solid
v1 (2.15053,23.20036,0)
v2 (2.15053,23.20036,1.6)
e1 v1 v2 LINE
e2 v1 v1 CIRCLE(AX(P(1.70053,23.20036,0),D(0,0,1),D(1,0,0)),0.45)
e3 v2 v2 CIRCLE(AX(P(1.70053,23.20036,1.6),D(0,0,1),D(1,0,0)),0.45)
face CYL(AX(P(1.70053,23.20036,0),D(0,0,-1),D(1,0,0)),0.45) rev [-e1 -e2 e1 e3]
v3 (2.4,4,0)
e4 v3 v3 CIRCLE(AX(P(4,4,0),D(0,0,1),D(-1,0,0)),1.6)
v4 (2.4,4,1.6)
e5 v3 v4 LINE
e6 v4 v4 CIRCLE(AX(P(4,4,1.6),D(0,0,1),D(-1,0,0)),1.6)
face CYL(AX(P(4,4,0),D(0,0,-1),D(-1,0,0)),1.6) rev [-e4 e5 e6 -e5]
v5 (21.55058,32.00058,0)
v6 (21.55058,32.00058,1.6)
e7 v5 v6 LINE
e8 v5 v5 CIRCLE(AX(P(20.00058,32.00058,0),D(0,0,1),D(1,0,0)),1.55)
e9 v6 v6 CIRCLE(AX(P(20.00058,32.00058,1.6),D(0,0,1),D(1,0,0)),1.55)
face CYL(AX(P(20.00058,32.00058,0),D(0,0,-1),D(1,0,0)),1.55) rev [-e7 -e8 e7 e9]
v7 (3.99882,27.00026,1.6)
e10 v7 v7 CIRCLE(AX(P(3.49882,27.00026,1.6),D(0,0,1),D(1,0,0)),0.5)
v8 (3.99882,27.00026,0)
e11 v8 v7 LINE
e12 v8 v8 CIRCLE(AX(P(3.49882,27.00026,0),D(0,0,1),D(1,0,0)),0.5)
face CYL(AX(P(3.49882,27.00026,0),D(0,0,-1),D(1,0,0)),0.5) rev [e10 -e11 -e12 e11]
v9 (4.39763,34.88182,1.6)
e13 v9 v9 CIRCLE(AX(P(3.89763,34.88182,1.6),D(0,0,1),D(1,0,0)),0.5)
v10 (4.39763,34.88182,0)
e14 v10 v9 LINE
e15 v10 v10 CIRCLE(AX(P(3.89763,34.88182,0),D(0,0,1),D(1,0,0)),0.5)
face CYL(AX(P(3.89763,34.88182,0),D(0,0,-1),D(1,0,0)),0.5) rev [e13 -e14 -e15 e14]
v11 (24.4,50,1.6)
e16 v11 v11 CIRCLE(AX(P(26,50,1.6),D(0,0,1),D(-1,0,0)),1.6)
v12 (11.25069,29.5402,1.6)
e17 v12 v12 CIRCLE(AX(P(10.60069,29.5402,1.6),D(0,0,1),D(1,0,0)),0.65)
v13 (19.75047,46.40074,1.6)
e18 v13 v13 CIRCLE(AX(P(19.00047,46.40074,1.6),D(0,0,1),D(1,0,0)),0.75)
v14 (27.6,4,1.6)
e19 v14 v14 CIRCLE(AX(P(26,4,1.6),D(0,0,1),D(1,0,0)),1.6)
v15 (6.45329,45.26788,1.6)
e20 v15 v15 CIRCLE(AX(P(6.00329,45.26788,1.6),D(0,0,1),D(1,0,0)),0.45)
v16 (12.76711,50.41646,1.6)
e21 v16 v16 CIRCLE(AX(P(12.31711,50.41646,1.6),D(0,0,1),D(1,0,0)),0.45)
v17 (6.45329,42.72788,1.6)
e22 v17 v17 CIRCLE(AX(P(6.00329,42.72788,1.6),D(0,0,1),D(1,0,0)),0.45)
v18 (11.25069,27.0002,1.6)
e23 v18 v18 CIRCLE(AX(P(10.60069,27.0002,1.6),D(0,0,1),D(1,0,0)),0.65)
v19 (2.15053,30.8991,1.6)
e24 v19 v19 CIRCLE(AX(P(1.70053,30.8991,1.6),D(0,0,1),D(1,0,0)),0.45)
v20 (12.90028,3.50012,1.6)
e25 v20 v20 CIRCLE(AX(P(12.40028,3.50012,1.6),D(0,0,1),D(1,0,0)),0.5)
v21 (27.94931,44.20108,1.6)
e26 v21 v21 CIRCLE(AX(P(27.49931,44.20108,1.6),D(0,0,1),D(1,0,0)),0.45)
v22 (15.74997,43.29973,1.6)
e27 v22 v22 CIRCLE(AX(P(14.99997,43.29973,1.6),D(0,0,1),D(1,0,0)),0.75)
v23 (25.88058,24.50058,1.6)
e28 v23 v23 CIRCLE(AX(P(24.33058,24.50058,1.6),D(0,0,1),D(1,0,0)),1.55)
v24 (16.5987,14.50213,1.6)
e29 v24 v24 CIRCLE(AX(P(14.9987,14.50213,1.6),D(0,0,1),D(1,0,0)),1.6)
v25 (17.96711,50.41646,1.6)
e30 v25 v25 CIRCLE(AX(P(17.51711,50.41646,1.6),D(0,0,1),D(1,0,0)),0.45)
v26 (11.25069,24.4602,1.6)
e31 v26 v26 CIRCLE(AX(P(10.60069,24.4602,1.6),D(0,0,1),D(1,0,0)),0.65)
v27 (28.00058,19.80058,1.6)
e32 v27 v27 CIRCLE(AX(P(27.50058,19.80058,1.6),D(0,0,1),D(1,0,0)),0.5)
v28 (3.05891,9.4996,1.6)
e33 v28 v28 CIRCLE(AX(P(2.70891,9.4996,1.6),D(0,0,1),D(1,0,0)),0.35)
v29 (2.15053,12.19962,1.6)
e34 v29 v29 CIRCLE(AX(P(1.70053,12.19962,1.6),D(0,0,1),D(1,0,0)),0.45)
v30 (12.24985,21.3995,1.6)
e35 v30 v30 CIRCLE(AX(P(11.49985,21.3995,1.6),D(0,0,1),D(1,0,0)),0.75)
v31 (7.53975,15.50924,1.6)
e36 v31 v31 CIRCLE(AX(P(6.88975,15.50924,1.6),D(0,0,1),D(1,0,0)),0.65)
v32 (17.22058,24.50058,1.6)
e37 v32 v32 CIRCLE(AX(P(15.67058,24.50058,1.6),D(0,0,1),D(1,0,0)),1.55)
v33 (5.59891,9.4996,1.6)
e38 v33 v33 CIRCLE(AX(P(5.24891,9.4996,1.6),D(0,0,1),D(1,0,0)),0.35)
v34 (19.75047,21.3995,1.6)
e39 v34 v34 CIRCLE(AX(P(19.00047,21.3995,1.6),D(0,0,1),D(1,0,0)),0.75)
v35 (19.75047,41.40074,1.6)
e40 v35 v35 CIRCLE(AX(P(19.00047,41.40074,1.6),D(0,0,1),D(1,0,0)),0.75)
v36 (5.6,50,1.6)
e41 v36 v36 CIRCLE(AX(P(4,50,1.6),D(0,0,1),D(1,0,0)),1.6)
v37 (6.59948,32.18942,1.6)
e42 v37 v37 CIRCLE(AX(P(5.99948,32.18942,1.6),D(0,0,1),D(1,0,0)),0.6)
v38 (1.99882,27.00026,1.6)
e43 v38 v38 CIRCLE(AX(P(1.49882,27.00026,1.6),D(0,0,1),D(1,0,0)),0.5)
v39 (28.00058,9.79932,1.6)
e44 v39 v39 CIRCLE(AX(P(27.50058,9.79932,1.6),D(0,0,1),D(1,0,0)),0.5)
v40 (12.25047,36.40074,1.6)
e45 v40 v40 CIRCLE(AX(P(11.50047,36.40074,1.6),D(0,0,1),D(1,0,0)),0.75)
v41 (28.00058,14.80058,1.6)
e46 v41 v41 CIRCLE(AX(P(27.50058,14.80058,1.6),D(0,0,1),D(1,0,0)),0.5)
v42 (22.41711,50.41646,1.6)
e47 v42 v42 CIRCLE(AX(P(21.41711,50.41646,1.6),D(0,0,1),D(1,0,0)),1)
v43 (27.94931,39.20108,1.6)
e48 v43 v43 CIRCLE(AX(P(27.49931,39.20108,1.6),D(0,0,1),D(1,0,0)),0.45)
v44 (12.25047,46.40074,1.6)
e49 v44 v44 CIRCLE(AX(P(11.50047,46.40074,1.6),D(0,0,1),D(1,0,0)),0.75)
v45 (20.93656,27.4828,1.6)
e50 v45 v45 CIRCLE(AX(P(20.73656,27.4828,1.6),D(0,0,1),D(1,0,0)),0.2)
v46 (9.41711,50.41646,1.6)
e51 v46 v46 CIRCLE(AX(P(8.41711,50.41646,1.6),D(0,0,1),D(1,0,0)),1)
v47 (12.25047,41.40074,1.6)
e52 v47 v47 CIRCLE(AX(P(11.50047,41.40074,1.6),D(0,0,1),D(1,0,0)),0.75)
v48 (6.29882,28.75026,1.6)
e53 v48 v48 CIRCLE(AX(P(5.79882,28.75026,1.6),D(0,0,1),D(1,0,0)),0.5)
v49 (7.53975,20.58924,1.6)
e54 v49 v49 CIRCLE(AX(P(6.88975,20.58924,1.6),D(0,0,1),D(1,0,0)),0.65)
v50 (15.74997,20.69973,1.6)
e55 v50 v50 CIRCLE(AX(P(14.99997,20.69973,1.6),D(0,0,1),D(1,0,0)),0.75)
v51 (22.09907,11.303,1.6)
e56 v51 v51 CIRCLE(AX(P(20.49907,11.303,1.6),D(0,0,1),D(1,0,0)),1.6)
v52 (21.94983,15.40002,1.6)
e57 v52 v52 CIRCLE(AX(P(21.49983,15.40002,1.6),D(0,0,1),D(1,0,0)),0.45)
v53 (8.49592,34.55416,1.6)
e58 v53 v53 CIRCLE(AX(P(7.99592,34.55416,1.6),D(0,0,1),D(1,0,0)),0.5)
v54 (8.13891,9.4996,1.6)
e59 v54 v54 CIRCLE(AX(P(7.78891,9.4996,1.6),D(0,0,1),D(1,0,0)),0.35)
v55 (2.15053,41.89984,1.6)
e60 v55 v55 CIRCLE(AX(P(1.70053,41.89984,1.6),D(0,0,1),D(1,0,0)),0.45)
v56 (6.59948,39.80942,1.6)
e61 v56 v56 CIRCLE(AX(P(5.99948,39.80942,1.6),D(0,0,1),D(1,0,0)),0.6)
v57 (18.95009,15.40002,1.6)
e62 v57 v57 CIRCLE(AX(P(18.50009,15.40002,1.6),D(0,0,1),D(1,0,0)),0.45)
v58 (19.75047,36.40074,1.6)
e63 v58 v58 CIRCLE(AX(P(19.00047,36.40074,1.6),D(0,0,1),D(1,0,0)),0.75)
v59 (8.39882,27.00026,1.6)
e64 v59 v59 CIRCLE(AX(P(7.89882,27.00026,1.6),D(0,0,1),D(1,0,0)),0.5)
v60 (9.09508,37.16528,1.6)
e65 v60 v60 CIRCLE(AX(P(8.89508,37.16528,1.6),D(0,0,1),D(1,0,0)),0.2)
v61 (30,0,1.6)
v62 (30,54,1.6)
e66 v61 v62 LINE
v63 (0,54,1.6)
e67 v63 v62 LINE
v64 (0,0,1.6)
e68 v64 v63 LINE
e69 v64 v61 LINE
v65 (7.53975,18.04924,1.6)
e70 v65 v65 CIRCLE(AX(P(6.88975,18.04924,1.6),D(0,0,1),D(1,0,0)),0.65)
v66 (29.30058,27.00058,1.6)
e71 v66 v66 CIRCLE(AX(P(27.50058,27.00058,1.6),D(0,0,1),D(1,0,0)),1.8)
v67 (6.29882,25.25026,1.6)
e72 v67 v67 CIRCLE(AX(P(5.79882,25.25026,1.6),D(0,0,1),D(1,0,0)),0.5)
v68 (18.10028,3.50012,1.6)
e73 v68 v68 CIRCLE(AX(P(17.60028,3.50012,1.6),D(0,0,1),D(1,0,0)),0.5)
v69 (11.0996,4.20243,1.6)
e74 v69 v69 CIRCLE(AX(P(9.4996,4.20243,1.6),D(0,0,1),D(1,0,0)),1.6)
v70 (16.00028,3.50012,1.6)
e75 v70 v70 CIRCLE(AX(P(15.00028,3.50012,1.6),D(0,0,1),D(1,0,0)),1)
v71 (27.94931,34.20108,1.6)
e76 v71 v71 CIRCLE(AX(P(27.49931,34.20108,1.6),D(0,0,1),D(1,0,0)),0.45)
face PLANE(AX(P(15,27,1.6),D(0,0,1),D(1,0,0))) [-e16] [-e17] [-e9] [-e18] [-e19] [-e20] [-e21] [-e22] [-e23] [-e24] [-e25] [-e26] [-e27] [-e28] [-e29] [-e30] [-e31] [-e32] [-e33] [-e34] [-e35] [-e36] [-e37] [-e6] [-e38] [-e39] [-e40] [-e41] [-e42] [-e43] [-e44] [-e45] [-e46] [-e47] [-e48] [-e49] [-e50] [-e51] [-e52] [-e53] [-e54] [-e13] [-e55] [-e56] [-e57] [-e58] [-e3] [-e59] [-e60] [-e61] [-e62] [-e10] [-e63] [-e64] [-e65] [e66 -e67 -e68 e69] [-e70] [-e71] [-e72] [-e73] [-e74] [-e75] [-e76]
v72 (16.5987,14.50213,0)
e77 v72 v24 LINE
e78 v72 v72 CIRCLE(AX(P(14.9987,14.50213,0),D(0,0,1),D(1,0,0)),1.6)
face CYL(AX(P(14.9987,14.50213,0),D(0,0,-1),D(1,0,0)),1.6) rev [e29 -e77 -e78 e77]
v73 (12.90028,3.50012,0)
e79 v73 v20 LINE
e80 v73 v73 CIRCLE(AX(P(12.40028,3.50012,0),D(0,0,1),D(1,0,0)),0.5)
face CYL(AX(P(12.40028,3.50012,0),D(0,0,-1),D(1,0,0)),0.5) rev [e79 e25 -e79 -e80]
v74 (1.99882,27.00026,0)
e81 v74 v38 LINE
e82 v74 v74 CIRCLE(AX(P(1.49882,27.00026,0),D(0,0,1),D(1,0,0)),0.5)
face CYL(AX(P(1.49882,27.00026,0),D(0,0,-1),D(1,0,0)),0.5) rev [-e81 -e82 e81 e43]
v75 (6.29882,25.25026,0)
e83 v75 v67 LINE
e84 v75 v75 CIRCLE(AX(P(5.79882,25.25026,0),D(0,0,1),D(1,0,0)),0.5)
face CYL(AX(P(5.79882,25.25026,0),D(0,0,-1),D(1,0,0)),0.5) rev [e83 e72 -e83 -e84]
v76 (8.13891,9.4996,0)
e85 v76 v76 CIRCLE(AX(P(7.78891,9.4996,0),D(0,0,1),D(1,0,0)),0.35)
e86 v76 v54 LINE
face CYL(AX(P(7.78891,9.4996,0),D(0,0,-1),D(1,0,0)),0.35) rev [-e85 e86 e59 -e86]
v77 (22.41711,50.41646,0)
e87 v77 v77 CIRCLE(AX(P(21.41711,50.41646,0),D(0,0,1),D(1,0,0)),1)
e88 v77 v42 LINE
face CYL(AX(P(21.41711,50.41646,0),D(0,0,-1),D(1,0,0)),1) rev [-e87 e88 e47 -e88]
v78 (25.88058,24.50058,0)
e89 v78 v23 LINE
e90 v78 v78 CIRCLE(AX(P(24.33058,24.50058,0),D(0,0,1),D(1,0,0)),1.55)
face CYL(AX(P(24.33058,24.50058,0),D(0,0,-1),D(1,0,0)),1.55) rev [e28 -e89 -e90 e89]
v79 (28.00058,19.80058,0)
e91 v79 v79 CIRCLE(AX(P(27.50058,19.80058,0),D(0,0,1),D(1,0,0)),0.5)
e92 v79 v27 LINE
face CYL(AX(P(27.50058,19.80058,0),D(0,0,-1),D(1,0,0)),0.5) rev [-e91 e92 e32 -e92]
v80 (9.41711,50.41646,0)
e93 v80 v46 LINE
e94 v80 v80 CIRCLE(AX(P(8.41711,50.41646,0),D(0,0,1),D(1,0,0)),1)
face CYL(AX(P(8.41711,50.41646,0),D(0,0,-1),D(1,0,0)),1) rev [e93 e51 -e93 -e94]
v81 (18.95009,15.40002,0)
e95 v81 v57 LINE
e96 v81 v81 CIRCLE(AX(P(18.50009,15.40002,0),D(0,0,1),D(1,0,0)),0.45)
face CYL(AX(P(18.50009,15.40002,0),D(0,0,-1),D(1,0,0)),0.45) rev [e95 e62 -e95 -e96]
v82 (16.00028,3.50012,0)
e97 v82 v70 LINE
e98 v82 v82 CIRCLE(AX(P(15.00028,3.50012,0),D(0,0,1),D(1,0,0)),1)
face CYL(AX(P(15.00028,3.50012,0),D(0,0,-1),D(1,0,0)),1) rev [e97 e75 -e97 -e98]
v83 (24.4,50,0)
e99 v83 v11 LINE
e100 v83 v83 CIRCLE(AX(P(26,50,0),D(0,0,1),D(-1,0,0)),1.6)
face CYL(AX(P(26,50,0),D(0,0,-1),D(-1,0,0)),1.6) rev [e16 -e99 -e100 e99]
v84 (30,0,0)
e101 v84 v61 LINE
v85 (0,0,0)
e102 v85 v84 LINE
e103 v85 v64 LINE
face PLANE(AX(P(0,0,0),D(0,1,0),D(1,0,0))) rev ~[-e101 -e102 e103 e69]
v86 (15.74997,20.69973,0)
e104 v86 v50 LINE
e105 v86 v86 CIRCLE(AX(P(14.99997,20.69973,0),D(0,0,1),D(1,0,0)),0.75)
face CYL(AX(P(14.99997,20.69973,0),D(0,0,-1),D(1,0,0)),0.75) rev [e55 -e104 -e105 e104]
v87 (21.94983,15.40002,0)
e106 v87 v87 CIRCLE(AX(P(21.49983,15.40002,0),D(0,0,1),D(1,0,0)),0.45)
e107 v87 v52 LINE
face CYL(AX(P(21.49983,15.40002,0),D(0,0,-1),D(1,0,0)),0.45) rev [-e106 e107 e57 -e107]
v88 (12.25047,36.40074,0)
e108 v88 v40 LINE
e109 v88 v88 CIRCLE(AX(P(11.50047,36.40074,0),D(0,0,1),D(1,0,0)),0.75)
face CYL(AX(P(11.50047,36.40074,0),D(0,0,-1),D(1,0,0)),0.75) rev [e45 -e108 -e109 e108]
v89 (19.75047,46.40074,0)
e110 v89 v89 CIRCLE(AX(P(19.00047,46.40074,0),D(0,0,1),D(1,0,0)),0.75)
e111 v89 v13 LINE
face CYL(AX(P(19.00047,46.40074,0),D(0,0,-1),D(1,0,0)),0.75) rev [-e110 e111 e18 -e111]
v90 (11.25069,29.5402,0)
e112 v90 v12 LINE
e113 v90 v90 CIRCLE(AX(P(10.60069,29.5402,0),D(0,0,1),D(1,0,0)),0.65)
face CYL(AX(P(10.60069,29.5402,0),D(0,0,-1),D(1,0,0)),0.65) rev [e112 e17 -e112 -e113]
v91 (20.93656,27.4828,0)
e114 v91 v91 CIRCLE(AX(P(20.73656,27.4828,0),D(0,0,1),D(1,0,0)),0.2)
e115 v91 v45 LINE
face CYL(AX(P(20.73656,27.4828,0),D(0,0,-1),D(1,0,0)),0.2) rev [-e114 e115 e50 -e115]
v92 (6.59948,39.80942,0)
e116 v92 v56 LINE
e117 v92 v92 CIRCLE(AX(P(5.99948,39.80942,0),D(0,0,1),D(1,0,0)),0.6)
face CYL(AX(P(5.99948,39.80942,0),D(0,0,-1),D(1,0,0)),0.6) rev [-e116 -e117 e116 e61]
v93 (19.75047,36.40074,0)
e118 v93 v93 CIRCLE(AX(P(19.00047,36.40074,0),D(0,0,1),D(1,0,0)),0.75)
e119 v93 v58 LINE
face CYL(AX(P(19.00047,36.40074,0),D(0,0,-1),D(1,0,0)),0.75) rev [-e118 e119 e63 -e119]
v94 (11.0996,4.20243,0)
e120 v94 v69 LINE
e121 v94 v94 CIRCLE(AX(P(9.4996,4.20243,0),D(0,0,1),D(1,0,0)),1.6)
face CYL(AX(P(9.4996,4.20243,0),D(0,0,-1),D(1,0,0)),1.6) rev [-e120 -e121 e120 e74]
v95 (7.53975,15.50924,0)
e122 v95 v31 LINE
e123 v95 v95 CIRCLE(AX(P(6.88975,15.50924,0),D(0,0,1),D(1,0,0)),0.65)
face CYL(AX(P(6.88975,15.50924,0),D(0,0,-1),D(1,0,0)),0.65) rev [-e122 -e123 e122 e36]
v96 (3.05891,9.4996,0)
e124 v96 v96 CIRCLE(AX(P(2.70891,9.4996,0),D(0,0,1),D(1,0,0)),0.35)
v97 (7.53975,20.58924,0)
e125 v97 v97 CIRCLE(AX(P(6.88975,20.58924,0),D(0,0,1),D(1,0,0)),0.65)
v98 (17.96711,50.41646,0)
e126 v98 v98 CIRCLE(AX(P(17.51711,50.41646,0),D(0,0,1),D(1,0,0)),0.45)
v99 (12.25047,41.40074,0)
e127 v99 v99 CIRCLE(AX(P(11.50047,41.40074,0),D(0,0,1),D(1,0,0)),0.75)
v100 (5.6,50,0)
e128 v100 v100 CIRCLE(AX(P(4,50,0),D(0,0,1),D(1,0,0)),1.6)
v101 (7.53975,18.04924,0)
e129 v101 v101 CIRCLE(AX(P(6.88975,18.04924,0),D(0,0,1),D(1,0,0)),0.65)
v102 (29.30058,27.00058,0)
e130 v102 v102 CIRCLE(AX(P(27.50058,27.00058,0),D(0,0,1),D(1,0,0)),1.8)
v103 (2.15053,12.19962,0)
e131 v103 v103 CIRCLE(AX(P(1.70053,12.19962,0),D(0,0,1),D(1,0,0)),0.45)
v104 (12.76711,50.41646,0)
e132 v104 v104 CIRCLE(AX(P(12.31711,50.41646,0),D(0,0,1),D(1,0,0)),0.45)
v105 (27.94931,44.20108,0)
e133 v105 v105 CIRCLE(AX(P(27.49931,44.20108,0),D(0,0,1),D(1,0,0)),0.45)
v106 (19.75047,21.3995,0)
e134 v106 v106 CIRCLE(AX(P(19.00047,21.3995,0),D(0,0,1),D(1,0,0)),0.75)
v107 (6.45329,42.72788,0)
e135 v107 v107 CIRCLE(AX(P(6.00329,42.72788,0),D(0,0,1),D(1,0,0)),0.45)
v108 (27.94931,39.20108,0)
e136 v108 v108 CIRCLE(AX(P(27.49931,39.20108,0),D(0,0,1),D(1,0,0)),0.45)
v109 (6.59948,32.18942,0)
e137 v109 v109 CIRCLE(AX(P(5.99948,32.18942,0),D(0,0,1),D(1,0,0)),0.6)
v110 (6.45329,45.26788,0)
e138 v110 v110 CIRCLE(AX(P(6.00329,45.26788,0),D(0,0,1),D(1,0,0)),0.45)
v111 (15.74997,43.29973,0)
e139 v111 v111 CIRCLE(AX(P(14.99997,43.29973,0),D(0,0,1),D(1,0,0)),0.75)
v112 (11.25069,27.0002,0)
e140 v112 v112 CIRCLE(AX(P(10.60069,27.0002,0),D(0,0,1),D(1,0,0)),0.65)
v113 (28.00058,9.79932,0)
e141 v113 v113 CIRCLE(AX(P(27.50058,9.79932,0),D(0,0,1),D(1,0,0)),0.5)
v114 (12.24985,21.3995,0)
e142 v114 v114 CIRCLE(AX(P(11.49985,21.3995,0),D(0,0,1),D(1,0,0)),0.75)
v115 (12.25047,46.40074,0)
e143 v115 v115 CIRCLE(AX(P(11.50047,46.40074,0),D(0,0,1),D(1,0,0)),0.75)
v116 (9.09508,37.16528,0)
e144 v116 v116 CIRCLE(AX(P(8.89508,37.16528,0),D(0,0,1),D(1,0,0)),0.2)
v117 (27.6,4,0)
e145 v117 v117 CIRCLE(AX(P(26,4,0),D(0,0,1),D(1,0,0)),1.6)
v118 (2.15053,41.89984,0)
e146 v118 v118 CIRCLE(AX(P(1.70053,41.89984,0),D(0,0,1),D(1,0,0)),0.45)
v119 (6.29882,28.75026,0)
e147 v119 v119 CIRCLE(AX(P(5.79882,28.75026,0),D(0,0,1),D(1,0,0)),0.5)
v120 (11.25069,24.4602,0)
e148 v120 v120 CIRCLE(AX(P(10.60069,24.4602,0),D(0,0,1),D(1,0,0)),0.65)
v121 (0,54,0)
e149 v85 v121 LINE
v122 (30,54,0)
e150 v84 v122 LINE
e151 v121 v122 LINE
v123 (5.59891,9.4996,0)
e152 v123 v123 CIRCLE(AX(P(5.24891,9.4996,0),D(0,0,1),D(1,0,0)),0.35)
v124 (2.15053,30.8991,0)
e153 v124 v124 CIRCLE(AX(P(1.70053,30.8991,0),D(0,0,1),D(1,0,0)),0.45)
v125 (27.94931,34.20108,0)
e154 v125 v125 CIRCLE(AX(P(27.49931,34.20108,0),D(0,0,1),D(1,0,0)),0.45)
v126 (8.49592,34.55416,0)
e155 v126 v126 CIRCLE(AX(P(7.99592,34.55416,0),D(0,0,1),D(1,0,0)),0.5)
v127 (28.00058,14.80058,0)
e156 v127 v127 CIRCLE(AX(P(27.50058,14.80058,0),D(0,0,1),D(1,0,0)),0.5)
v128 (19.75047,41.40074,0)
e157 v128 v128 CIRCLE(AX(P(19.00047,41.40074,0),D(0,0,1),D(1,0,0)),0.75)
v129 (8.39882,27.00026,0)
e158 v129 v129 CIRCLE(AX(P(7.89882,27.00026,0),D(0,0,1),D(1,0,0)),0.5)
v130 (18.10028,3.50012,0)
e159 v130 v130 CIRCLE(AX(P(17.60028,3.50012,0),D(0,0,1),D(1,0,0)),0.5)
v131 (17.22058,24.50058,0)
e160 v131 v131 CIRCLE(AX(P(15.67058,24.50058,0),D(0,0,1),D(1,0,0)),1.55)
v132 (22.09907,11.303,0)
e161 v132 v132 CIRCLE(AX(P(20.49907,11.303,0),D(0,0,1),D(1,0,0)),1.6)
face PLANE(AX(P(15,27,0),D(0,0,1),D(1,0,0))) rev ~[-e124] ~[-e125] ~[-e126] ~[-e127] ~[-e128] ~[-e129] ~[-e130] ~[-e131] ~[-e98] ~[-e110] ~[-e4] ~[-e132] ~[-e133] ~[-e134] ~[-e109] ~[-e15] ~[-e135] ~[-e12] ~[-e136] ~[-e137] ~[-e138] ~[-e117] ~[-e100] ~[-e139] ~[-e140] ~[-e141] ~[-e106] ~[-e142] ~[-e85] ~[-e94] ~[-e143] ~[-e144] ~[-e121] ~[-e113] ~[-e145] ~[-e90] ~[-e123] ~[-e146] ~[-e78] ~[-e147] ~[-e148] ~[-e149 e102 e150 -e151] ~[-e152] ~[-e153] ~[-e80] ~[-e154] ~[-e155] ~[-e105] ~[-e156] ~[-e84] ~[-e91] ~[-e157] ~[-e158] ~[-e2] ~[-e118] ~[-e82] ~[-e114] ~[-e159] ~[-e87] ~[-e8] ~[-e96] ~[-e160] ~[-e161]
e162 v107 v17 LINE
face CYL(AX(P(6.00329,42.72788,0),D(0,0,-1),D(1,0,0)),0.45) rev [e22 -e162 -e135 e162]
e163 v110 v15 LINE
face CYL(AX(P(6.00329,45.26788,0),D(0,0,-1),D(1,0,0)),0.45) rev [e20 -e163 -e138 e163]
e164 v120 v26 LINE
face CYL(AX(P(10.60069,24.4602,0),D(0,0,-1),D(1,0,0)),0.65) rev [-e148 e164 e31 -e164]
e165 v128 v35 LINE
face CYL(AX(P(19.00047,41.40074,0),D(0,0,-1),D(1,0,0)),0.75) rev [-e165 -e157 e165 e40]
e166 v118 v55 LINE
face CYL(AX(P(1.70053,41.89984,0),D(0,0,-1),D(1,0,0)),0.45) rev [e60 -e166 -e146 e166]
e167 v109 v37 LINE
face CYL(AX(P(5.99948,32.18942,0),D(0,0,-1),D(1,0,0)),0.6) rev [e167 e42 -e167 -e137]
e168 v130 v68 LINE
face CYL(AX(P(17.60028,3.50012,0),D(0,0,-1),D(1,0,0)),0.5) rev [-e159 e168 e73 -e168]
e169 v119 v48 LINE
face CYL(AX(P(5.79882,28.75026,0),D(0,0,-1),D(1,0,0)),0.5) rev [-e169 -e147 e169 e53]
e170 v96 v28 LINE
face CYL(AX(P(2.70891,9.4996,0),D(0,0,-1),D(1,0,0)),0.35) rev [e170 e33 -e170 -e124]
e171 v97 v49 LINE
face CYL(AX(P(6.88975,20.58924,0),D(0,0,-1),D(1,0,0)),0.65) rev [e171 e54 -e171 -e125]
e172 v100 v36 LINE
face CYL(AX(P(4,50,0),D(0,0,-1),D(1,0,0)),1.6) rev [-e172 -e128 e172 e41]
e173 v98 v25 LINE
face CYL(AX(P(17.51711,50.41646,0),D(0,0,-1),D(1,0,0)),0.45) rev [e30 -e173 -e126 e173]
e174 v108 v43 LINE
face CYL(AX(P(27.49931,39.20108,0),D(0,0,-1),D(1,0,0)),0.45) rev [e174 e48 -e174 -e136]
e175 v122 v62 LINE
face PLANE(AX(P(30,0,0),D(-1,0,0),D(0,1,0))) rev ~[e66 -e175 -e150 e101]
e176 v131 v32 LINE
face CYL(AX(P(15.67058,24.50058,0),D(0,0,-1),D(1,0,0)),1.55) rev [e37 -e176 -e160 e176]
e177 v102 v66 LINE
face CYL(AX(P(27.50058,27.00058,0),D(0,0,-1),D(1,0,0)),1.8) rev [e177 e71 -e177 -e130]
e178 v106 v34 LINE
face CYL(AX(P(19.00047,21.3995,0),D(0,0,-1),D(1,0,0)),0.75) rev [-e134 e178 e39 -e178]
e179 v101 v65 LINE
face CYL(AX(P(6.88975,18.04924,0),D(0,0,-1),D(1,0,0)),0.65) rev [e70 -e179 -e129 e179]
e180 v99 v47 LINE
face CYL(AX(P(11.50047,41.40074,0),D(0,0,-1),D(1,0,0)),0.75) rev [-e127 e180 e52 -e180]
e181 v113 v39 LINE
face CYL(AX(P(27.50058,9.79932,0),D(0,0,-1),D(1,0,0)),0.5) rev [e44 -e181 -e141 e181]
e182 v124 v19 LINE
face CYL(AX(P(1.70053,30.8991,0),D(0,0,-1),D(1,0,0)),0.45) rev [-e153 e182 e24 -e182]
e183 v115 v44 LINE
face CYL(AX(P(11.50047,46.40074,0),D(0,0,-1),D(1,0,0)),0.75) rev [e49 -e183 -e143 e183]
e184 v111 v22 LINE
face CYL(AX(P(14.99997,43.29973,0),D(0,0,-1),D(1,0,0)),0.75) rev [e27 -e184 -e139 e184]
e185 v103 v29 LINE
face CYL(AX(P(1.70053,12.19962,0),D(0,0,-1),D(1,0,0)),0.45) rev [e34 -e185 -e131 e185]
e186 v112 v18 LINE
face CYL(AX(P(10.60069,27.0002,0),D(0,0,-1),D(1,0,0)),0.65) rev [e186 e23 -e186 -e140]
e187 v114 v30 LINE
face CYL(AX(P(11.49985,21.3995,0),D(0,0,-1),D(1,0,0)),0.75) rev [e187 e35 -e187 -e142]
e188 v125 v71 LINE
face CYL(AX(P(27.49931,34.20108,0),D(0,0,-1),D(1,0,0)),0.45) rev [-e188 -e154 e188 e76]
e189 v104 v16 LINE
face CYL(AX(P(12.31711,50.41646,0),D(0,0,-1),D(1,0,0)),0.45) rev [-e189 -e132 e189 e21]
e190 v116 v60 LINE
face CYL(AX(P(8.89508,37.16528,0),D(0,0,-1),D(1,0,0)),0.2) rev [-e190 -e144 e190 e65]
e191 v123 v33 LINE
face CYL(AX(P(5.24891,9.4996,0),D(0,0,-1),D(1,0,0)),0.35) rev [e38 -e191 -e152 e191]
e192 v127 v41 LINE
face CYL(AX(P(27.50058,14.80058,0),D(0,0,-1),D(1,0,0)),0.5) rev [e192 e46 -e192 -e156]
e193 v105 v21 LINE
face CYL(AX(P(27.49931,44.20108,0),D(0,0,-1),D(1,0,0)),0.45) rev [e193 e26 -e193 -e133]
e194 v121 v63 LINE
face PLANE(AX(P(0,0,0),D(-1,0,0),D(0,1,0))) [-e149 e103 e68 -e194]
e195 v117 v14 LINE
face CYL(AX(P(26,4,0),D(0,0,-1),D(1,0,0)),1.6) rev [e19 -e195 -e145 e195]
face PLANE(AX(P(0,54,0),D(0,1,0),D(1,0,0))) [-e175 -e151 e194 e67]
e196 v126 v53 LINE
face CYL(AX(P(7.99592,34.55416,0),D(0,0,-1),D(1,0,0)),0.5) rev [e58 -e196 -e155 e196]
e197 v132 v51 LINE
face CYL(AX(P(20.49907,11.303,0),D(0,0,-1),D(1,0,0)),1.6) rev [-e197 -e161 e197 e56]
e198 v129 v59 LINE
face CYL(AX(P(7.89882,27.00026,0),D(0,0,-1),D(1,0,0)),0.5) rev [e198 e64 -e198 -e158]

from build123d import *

# Parameters (mm, degrees)
MODEL_W            = 30
MODEL_H            = 54
MODEL_R            = 0.5
MODEL_R_2          = 0.65
MODEL_R_3          = 0.45
MODEL_R_4          = 0.75
MODEL_R_5          = 1.8
MODEL_R_6          = 0.6
MODEL_R_7          = 1.55
MODEL_R_8          = 0.35
MODEL_R_9          = 1
MODEL_R_10         = 1.6
MODEL_R_11         = 0.2
BOSS_EXTRU_1_DEPTH = 1.6


with BuildPart() as part:
    # Model → Boss.-Extru.1 (new body)
    with BuildSketch(Plane.XY):
        with Locations((15, 27)):
            Rectangle(MODEL_W, MODEL_H)
        with Locations((5.79882, 28.75026)):
            Circle(MODEL_R, mode=Mode.SUBTRACT)
        with Locations((6.88975, 18.04924)):
            Circle(MODEL_R_2, mode=Mode.SUBTRACT)
        with Locations((10.60069, 27.0002)):
            Circle(MODEL_R_2, mode=Mode.SUBTRACT)
        with Locations((1.70053, 30.8991)):
            Circle(MODEL_R_3, mode=Mode.SUBTRACT)
        with Locations((19.00047, 41.40074)):
            Circle(MODEL_R_4, mode=Mode.SUBTRACT)
        with Locations((5.79882, 25.25026)):
            Circle(MODEL_R, mode=Mode.SUBTRACT)
        with Locations((7.89882, 27.00026)):
            Circle(MODEL_R, mode=Mode.SUBTRACT)
        with Locations((3.49882, 27.00026)):
            Circle(MODEL_R, mode=Mode.SUBTRACT)
        with Locations((1.49882, 27.00026)):
            Circle(MODEL_R, mode=Mode.SUBTRACT)
        with Locations((10.60069, 29.5402)):
            Circle(MODEL_R_2, mode=Mode.SUBTRACT)
        with Locations((14.99997, 20.69973)):
            Circle(MODEL_R_4, mode=Mode.SUBTRACT)
        with Locations((14.99997, 43.29973)):
            Circle(MODEL_R_4, mode=Mode.SUBTRACT)
        with Locations((19.00047, 46.40074)):
            Circle(MODEL_R_4, mode=Mode.SUBTRACT)
        with Locations((11.50047, 36.40074)):
            Circle(MODEL_R_4, mode=Mode.SUBTRACT)
        with Locations((11.50047, 41.40074)):
            Circle(MODEL_R_4, mode=Mode.SUBTRACT)
        with Locations((11.50047, 46.40074)):
            Circle(MODEL_R_4, mode=Mode.SUBTRACT)
        with Locations((27.49931, 39.20108)):
            Circle(MODEL_R_3, mode=Mode.SUBTRACT)
        with Locations((27.49931, 34.20108)):
            Circle(MODEL_R_3, mode=Mode.SUBTRACT)
        with Locations((27.50058, 27.00058)):
            Circle(MODEL_R_5, mode=Mode.SUBTRACT)
        with Locations((5.99948, 39.80942)):
            Circle(MODEL_R_6, mode=Mode.SUBTRACT)
        with Locations((24.33058, 24.50058)):
            Circle(MODEL_R_7, mode=Mode.SUBTRACT)
        with Locations((27.50058, 19.80058)):
            Circle(MODEL_R, mode=Mode.SUBTRACT)
        with Locations((7.78891, 9.4996)):
            Circle(MODEL_R_8, mode=Mode.SUBTRACT)
        with Locations((2.70891, 9.4996)):
            Circle(MODEL_R_8, mode=Mode.SUBTRACT)
        with Locations((15.67058, 24.50058)):
            Circle(MODEL_R_7, mode=Mode.SUBTRACT)
        with Locations((27.50058, 9.79932)):
            Circle(MODEL_R, mode=Mode.SUBTRACT)
        with Locations((6.88975, 15.50924)):
            Circle(MODEL_R_2, mode=Mode.SUBTRACT)
        with Locations((20.00058, 32.00058)):
            Circle(MODEL_R_7, mode=Mode.SUBTRACT)
        with Locations((12.31711, 50.41646)):
            Circle(MODEL_R_3, mode=Mode.SUBTRACT)
        with Locations((21.41711, 50.41646)):
            Circle(MODEL_R_9, mode=Mode.SUBTRACT)
        with Locations((8.41711, 50.41646)):
            Circle(MODEL_R_9, mode=Mode.SUBTRACT)
        with Locations((1.70053, 12.19962)):
            Circle(MODEL_R_3, mode=Mode.SUBTRACT)
        with Locations((20.49907, 11.303)):
            Circle(MODEL_R_10, mode=Mode.SUBTRACT)
        with Locations((14.9987, 14.50213)):
            Circle(MODEL_R_10, mode=Mode.SUBTRACT)
        with Locations((9.4996, 4.20243)):
            Circle(MODEL_R_10, mode=Mode.SUBTRACT)
        with Locations((6.88975, 20.58924)):
            Circle(MODEL_R_2, mode=Mode.SUBTRACT)
        with Locations((10.60069, 24.4602)):
            Circle(MODEL_R_2, mode=Mode.SUBTRACT)
        with Locations((1.70053, 23.20036)):
            Circle(MODEL_R_3, mode=Mode.SUBTRACT)
        with Locations((27.50058, 14.80058)):
            Circle(MODEL_R, mode=Mode.SUBTRACT)
        with Locations((20.73656, 27.4828)):
            Circle(MODEL_R_11, mode=Mode.SUBTRACT)
        with Locations((8.89508, 37.16528)):
            Circle(MODEL_R_11, mode=Mode.SUBTRACT)
        with Locations((6.00329, 45.26788)):
            Circle(MODEL_R_3, mode=Mode.SUBTRACT)
        with Locations((1.70053, 41.89984)):
            Circle(MODEL_R_3, mode=Mode.SUBTRACT)
        with Locations((19.00047, 36.40074)):
            Circle(MODEL_R_4, mode=Mode.SUBTRACT)
        with Locations((27.49931, 44.20108)):
            Circle(MODEL_R_3, mode=Mode.SUBTRACT)
        with Locations((5.99948, 32.18942)):
            Circle(MODEL_R_6, mode=Mode.SUBTRACT)
        with Locations((19.00047, 21.3995)):
            Circle(MODEL_R_4, mode=Mode.SUBTRACT)
        with Locations((5.24891, 9.4996)):
            Circle(MODEL_R_8, mode=Mode.SUBTRACT)
        with Locations((21.49983, 15.40002)):
            Circle(MODEL_R_3, mode=Mode.SUBTRACT)
        with Locations((6.00329, 42.72788)):
            Circle(MODEL_R_3, mode=Mode.SUBTRACT)
        with Locations((17.51711, 50.41646)):
            Circle(MODEL_R_3, mode=Mode.SUBTRACT)
        with Locations((3.89763, 34.88182)):
            Circle(MODEL_R, mode=Mode.SUBTRACT)
        with Locations((7.99592, 34.55416)):
            Circle(MODEL_R, mode=Mode.SUBTRACT)
        with Locations((18.50009, 15.40002)):
            Circle(MODEL_R_3, mode=Mode.SUBTRACT)
        with Locations((11.49985, 21.3995)):
            Circle(MODEL_R_4, mode=Mode.SUBTRACT)
        with Locations((4, 50)):
            Circle(MODEL_R_10, mode=Mode.SUBTRACT)
        with Locations(Location((26, 50, 0), (0, 0, 180))):
            Circle(MODEL_R_10, mode=Mode.SUBTRACT)
        with Locations((26, 4)):
            Circle(MODEL_R_10, mode=Mode.SUBTRACT)
        with Locations(Location((4, 4, 0), (0, 0, 180))):
            Circle(MODEL_R_10, mode=Mode.SUBTRACT)
        with Locations((12.40028, 3.50012)):
            Circle(MODEL_R, mode=Mode.SUBTRACT)
        with Locations((15.00028, 3.50012)):
            Circle(MODEL_R_9, mode=Mode.SUBTRACT)
        with Locations((17.60028, 3.50012)):
            Circle(MODEL_R, mode=Mode.SUBTRACT)
    extrude(amount=BOSS_EXTRU_1_DEPTH)


solid = part.part
